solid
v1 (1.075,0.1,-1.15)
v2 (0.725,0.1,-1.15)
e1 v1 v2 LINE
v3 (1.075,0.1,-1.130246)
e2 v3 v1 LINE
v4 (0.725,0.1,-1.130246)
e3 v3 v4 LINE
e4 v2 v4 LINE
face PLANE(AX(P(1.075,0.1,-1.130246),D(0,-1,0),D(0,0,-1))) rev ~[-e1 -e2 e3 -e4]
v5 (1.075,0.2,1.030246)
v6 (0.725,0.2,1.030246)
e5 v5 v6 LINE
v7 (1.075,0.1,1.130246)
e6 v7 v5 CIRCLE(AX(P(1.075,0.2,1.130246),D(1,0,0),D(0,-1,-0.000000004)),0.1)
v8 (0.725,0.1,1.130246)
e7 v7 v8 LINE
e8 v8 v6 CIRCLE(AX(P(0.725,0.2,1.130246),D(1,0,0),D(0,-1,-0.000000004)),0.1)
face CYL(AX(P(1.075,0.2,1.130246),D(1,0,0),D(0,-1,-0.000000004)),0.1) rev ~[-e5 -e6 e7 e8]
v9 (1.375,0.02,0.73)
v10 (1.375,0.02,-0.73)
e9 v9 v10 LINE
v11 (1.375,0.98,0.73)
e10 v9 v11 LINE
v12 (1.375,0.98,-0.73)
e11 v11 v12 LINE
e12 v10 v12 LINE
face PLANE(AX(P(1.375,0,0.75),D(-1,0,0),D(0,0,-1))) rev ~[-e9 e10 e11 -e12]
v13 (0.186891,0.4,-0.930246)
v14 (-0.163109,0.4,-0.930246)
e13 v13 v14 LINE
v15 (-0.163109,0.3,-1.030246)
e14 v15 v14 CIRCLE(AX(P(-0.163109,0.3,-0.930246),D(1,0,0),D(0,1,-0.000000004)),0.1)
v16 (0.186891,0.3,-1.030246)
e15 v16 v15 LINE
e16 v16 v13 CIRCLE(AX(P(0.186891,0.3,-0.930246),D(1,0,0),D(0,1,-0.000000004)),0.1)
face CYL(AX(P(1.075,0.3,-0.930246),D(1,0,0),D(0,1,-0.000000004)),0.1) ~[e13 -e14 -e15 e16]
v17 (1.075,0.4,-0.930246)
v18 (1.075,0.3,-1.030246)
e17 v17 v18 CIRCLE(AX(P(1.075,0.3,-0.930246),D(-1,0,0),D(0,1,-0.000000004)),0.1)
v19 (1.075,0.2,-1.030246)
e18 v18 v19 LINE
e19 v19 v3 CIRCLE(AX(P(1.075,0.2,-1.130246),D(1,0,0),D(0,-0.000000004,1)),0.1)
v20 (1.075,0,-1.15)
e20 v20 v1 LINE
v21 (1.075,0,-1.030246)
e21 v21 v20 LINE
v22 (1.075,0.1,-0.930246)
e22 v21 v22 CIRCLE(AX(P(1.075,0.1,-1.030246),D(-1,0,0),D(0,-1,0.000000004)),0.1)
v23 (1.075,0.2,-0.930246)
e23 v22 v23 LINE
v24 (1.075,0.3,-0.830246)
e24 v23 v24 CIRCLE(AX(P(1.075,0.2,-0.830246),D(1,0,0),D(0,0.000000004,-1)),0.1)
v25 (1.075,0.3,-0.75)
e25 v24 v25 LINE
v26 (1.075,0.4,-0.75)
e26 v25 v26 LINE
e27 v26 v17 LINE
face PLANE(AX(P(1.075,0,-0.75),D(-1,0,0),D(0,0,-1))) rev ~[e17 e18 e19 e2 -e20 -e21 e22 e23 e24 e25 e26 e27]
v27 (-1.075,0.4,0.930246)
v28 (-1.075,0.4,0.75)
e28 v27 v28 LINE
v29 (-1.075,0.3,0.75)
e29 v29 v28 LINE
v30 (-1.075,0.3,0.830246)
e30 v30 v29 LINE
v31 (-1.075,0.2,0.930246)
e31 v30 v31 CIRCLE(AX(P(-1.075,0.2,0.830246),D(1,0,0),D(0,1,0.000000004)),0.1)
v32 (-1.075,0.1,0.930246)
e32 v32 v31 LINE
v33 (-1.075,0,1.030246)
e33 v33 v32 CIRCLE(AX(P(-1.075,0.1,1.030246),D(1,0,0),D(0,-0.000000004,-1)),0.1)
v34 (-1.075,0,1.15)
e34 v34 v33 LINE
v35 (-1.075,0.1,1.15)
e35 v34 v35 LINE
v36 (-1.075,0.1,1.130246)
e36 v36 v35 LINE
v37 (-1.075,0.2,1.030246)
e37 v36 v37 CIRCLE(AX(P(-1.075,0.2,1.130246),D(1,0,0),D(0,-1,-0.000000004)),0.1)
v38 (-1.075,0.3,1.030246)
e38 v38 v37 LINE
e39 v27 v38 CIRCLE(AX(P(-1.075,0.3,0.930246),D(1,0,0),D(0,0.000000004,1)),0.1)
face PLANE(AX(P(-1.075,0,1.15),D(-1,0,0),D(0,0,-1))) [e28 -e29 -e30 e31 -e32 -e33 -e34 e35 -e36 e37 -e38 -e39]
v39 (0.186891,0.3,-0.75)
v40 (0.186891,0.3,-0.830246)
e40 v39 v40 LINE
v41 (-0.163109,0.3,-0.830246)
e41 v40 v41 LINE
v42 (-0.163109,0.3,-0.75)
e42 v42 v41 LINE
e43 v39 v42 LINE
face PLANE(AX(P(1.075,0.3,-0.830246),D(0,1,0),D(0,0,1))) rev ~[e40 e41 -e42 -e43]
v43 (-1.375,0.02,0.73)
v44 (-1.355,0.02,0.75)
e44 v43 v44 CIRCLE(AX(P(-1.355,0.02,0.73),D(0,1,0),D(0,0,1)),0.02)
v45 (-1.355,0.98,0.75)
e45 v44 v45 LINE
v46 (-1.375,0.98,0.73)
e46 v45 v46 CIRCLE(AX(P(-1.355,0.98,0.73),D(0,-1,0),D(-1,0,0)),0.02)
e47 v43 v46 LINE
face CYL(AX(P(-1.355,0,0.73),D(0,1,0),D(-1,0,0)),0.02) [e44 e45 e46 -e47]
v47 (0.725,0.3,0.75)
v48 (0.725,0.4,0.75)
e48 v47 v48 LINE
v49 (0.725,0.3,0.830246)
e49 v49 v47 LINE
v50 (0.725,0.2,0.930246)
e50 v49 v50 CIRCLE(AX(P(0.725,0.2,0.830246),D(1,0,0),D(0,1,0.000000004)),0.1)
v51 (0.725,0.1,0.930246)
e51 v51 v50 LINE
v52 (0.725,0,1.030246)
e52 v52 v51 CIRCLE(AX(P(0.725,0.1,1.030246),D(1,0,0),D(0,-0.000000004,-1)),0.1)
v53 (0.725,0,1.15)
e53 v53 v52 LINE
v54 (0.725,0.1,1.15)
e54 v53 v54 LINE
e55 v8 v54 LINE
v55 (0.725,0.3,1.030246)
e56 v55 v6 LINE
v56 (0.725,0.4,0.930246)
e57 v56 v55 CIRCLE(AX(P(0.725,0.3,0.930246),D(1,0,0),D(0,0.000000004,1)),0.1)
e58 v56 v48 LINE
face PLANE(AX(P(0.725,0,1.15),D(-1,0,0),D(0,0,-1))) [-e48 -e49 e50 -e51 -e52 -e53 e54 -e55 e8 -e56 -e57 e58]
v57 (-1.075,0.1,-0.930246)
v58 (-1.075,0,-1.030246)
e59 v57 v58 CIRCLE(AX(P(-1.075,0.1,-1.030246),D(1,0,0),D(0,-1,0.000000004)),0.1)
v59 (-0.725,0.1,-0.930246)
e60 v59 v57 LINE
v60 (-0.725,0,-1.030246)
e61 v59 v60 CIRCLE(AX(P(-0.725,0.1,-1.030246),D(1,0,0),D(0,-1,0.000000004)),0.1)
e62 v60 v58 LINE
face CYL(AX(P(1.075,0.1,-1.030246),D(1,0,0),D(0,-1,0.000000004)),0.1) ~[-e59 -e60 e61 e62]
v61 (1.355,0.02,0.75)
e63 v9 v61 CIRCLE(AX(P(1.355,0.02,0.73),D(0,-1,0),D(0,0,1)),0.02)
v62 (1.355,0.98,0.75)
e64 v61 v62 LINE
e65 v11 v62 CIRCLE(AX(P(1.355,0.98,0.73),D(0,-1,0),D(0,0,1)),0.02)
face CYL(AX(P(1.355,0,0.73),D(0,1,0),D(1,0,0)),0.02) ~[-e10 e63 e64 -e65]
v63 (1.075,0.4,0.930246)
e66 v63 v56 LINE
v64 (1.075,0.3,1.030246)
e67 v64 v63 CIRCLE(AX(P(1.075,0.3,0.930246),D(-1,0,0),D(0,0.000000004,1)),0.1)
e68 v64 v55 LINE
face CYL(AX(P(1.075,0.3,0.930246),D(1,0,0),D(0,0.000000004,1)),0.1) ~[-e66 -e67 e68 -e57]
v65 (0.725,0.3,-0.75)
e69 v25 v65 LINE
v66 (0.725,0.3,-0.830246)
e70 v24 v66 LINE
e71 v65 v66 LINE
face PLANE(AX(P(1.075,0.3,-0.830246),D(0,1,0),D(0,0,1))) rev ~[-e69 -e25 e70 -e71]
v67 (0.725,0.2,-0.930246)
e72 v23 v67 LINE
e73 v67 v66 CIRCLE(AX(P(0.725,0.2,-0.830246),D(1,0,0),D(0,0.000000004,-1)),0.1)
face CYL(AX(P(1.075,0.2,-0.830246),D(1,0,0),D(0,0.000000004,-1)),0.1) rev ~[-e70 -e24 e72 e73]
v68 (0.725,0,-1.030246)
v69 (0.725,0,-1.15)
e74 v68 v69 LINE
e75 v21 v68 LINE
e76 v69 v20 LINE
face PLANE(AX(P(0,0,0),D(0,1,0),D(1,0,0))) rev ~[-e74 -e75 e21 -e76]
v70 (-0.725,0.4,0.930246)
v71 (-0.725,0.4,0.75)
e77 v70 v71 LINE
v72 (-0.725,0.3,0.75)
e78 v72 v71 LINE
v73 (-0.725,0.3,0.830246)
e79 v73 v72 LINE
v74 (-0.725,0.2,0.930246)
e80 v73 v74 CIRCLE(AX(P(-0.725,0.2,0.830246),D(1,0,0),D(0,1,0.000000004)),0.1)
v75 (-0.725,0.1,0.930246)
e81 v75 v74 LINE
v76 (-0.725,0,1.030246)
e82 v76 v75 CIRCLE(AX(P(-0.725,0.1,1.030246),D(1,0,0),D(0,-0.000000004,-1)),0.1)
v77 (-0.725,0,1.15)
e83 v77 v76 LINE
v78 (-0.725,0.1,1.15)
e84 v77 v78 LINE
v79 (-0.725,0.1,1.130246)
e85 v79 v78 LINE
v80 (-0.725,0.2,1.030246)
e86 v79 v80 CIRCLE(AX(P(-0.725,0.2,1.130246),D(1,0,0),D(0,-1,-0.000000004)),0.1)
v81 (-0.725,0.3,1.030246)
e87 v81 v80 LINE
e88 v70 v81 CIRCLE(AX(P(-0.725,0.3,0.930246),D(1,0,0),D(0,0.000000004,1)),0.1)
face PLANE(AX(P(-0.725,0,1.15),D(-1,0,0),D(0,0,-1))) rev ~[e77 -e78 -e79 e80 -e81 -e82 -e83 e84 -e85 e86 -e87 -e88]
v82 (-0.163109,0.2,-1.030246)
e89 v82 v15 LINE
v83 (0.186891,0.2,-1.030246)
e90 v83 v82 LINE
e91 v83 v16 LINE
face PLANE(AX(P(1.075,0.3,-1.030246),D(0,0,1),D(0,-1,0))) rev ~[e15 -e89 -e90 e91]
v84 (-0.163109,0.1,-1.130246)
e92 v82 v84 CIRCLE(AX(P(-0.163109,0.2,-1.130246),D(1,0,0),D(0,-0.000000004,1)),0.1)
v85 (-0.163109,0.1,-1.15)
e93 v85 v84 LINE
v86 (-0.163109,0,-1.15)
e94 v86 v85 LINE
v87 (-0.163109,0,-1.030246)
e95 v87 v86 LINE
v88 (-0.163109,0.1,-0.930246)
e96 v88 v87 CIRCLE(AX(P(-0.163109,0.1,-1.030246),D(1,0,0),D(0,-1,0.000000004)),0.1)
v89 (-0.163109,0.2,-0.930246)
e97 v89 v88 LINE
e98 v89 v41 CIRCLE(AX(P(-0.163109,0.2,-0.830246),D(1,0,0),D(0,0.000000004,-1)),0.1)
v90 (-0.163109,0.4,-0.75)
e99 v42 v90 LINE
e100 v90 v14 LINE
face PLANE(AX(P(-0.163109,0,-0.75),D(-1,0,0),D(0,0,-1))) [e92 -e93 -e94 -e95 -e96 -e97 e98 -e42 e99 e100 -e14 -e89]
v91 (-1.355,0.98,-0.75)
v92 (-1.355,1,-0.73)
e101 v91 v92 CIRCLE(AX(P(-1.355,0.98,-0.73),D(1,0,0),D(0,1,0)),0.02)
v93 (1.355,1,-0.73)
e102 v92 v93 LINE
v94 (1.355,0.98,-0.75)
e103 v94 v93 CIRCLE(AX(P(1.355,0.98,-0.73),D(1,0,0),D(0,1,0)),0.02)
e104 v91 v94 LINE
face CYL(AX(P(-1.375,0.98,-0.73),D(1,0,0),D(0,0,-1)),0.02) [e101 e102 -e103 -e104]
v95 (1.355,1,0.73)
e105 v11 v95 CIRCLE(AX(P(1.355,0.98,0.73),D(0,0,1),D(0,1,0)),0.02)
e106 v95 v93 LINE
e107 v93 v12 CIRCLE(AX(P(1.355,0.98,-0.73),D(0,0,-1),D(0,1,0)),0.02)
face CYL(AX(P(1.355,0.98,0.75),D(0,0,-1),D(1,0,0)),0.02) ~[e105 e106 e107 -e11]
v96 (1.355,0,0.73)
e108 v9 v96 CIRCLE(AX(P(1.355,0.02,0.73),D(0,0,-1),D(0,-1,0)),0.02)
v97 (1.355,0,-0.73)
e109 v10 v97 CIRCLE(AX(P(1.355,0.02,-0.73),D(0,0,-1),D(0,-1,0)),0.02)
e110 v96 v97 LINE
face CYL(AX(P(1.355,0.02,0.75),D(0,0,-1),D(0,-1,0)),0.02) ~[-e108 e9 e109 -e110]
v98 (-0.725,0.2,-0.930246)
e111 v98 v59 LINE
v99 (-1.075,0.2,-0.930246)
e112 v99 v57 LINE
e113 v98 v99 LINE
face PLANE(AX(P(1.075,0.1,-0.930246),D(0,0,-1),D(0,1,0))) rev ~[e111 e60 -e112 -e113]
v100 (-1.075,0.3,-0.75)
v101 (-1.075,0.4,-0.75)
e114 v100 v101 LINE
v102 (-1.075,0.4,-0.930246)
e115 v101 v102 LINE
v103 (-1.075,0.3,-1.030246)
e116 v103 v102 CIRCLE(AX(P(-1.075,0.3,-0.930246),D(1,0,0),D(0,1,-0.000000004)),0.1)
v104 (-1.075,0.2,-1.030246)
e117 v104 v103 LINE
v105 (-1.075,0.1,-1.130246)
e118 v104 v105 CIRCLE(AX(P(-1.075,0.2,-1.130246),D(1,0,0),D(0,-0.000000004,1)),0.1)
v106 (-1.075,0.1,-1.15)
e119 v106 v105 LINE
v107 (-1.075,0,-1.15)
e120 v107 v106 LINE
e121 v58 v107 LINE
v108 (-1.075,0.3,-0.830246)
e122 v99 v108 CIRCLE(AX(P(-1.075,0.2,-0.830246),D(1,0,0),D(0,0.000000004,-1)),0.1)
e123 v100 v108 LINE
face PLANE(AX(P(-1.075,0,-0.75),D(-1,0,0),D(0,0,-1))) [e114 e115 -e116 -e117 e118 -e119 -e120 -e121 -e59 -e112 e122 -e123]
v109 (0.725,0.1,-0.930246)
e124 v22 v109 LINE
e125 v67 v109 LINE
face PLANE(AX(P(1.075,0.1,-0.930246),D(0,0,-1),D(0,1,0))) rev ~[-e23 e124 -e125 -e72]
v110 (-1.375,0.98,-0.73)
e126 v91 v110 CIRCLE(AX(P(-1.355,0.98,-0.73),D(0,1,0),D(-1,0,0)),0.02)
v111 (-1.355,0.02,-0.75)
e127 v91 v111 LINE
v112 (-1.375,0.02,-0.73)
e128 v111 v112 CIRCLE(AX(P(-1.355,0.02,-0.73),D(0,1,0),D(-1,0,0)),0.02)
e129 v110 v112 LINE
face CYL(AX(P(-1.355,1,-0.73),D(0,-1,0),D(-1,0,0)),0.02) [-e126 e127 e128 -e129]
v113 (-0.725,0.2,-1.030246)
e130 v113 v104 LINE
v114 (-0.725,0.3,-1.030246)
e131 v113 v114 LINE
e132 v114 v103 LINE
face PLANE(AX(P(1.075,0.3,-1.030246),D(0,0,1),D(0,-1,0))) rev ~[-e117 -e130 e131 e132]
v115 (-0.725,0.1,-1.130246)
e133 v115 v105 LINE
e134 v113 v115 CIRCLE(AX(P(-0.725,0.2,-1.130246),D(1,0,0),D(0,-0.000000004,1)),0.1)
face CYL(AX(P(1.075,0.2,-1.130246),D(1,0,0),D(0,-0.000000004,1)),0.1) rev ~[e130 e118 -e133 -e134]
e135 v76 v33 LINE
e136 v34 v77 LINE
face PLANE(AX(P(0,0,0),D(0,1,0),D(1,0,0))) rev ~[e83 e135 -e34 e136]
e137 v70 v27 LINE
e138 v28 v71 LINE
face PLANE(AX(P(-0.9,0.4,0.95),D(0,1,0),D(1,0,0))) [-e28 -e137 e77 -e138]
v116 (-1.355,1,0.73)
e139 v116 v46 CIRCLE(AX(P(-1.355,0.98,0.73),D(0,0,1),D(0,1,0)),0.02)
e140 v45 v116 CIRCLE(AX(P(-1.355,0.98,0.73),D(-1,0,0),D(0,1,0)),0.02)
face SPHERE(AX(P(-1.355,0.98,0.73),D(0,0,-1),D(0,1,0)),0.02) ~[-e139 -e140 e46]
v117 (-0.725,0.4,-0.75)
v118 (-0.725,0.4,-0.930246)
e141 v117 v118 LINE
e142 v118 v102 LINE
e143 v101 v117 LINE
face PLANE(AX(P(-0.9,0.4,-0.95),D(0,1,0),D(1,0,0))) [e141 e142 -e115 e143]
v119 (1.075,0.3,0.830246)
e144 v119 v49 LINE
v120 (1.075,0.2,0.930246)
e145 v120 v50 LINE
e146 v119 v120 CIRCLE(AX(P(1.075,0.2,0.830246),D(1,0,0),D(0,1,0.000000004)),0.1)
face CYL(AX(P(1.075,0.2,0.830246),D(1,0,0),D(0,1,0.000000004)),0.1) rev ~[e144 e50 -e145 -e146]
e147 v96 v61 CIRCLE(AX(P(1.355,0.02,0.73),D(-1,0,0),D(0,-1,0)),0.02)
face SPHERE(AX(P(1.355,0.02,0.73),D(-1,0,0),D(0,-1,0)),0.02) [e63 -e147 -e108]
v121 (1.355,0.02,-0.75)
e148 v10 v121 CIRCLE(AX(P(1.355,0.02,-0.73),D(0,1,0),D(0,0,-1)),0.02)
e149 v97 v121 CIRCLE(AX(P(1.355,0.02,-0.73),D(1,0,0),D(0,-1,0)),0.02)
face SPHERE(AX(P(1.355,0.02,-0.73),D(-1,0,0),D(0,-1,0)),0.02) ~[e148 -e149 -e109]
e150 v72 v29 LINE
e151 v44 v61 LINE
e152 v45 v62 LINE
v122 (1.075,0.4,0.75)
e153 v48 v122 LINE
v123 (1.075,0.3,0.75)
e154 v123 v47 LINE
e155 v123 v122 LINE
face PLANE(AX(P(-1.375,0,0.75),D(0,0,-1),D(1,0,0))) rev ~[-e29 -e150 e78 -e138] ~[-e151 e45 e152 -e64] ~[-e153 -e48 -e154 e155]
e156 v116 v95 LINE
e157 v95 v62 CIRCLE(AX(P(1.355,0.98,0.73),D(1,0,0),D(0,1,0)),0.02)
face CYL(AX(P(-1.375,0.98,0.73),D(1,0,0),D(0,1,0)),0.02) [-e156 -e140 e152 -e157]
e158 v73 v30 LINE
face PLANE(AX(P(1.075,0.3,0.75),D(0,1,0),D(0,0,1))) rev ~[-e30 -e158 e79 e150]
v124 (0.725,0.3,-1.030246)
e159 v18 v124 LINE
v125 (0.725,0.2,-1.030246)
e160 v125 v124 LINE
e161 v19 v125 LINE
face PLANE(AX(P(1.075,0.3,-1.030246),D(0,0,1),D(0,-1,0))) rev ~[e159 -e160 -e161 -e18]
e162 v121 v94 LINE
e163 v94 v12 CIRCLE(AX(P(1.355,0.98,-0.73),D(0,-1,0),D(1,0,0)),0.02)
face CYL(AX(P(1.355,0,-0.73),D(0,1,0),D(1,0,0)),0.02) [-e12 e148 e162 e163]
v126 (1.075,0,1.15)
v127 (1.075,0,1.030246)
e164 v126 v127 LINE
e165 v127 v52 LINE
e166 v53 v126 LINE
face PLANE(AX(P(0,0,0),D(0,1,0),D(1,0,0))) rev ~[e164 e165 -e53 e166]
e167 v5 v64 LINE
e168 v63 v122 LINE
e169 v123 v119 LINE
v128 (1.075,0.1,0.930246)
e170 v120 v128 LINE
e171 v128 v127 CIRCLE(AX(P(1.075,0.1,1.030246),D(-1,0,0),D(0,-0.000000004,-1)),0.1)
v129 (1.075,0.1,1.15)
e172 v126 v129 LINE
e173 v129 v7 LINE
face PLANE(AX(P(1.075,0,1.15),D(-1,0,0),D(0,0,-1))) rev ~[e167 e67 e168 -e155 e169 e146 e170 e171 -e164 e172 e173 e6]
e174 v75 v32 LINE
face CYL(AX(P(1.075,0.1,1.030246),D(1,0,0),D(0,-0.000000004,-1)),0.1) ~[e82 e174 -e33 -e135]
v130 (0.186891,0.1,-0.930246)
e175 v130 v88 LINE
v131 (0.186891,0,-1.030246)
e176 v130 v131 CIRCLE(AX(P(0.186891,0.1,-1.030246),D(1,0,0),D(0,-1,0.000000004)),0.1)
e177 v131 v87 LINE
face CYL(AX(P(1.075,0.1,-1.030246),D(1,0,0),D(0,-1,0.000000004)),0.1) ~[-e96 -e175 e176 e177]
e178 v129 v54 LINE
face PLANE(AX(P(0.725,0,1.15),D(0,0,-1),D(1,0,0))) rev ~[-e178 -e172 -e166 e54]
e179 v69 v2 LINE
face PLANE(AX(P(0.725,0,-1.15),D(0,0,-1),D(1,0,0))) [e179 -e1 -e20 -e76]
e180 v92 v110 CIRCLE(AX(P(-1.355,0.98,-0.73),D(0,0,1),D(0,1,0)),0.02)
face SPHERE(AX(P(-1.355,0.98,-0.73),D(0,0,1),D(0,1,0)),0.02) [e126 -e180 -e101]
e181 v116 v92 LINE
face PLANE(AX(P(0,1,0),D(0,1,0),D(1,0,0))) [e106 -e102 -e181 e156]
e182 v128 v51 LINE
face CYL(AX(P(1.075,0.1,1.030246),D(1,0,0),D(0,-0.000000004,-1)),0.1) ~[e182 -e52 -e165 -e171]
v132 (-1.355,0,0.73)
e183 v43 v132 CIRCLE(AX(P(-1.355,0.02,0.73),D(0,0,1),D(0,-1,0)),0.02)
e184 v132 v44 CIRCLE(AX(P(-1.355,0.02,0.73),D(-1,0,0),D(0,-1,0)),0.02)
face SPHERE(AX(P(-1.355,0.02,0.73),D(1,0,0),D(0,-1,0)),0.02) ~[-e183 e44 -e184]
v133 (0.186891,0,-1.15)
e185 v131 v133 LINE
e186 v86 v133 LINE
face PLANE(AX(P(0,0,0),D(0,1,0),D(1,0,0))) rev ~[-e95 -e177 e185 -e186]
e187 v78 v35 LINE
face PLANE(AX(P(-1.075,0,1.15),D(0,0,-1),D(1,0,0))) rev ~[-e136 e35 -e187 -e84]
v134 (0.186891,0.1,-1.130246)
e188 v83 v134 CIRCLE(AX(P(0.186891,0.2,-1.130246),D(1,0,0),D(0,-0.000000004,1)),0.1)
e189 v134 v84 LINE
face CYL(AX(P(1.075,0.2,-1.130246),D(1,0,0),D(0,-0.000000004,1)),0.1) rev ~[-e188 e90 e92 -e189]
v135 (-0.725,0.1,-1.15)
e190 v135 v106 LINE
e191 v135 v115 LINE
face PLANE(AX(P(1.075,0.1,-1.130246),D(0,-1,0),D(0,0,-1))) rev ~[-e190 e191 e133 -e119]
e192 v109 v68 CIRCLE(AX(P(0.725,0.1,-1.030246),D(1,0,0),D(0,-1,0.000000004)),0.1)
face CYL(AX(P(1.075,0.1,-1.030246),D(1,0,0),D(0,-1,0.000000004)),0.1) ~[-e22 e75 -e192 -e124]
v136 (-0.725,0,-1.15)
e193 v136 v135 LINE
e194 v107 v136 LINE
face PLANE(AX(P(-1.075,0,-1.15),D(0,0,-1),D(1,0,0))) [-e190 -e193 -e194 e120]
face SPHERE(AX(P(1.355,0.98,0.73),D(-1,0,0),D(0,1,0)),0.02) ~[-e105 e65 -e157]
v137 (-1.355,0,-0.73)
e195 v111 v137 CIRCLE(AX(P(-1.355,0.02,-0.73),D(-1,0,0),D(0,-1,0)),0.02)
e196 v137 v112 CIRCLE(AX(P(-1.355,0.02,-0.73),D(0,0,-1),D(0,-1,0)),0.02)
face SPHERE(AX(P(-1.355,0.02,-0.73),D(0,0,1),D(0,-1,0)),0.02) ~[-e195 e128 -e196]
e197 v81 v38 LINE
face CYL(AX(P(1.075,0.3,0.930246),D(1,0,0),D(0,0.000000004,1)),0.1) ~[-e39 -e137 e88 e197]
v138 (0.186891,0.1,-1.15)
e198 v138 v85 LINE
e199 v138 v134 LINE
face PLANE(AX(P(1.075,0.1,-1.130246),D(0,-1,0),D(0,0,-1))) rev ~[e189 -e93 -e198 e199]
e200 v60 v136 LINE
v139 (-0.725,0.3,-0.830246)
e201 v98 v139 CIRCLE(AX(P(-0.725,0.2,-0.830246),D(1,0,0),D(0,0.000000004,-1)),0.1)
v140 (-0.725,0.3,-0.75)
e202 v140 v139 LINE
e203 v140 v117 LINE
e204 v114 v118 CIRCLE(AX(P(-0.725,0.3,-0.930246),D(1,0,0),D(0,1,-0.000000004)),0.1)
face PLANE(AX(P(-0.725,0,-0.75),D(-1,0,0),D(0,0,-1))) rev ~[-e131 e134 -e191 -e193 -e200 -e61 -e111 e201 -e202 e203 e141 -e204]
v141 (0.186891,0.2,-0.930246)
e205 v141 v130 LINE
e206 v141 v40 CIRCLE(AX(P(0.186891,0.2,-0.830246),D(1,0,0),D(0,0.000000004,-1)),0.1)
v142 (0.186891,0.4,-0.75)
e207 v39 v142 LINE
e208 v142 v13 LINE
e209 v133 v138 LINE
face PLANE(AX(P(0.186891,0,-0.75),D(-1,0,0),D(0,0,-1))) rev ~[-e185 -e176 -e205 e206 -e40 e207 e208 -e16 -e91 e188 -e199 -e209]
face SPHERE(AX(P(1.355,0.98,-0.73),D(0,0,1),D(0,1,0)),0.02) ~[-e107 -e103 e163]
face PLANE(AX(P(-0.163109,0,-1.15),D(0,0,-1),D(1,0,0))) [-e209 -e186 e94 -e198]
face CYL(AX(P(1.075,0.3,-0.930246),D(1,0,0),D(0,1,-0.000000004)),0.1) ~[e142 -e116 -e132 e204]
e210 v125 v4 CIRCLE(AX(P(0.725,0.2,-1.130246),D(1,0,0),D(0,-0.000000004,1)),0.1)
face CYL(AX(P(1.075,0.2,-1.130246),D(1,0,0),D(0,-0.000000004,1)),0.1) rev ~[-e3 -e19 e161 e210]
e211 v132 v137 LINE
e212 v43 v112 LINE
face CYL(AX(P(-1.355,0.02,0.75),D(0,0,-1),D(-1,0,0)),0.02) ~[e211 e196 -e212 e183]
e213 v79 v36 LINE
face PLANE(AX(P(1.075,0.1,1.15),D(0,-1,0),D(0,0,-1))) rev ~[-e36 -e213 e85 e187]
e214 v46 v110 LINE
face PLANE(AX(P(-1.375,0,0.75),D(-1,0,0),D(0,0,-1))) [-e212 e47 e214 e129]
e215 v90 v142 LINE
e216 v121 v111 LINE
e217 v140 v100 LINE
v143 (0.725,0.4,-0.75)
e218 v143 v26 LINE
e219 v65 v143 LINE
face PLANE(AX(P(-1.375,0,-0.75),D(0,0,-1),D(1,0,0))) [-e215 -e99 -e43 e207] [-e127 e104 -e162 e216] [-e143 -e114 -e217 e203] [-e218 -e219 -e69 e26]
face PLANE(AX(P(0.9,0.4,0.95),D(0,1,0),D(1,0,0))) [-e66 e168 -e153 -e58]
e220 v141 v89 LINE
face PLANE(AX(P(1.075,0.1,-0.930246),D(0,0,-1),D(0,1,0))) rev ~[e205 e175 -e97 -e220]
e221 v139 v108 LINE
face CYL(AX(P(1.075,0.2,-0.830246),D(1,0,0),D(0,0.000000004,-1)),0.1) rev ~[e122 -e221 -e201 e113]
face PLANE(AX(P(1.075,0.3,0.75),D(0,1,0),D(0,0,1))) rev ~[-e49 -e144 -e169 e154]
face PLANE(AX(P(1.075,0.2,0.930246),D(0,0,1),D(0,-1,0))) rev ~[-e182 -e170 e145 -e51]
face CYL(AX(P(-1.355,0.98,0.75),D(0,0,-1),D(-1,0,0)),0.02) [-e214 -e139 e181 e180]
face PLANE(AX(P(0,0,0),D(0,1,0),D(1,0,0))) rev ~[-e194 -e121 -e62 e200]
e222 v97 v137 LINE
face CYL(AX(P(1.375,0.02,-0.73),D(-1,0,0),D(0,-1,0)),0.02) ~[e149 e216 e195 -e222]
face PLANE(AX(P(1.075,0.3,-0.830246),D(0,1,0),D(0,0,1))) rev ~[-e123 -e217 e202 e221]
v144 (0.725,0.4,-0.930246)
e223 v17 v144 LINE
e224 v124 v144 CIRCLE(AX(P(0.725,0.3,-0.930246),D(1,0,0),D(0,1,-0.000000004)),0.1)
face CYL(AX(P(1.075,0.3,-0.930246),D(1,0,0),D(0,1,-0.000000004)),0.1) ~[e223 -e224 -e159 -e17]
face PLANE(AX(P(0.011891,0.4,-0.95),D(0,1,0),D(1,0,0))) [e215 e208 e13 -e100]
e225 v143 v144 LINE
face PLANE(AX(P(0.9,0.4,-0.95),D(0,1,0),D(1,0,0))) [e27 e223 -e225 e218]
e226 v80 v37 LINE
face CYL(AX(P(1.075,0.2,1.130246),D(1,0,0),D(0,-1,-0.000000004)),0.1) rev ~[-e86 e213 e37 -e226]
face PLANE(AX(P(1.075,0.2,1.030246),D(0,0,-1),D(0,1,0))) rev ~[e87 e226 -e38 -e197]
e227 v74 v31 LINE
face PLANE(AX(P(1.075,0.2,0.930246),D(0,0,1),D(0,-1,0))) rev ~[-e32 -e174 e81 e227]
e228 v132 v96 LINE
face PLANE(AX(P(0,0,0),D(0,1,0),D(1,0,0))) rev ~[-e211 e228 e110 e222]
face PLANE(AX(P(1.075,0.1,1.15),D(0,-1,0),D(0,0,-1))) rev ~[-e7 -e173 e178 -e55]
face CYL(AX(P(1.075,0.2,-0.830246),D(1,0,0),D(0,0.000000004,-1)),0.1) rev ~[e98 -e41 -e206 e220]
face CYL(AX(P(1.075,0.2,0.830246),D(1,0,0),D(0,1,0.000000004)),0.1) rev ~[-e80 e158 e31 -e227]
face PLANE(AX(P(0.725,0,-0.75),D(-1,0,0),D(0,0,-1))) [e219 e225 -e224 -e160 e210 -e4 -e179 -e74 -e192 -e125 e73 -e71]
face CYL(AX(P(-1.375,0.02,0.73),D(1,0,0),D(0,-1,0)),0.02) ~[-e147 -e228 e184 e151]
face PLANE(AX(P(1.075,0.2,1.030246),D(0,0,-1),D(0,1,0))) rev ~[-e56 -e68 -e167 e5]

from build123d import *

# Parameters (mm, degrees)
SKETCH1_W           = 2.75
SKETCH1_H           = 1.5
BOSS_EXTRUDE1_DEPTH = 1
SKETCH2_W           = 0.35
SKETCH2_H           = 0.4
BOSS_EXTRUDE2_DEPTH = 0.4
CUT_EXTRUDE1_DEPTH  = 3.45
FILLET1_R           = 0.02


with BuildPart() as part:
    # Sketch1 → Boss-Extrude1 (new body)
    with BuildSketch(Plane(origin=(0, 0, 0), x_dir=(1, 0, 0), z_dir=(0, 1, 0))):
        Rectangle(SKETCH1_W, SKETCH1_H)
    extrude(amount=BOSS_EXTRUDE1_DEPTH)

    # Sketch2 → Boss-Extrude2 (add)
    with BuildSketch(Plane(origin=(0, 0, 0), x_dir=(1, 0, 0), z_dir=(0, 1, 0))):
        with Locations((-0.9, -0.95)):
            Rectangle(SKETCH2_W, SKETCH2_H)
        with Locations((0.9, -0.95)):
            Rectangle(SKETCH2_W, SKETCH2_H)
        with Locations((0.9, 0.95)):
            Rectangle(SKETCH2_W, SKETCH2_H)
        with Locations((-0.9, 0.95)):
            Rectangle(SKETCH2_W, SKETCH2_H)
        with Locations((0.01189142, 0.95)):
            Rectangle(SKETCH2_W, SKETCH2_H)
    extrude(amount=BOSS_EXTRUDE2_DEPTH)

    # Sketch3 → Cut-Extrude1 (cut, through all)
    with BuildSketch(Plane(origin=(1.075, 0, 0), x_dir=(0, 0, -1), z_dir=(1, 0, 0))):
        with BuildLine():
            Line((1.15, 0), (1.03024595, 0))
            Line((1.03024595, 0), (0.75, 0))
            Line((0.75, 0), (-0.75, 0))
            Line((-0.75, 0), (-0.75, 0.3))
            Line((-0.75, 0.3), (-0.83024595, 0.3))
            ThreePointArc((-0.83024595, 0.3), (-0.900956628, 0.270710678), (-0.93024595, 0.2))
            Line((-0.93024595, 0.2), (-0.93024595, 0.1))
            ThreePointArc((-0.93024595, 0.1), (-0.959535272, 0.029289322), (-1.03024595, 0))
            Line((-1.03024595, 0), (-1.15, 0))
            Line((-1.15, 0), (-1.15, 0.1))
            Line((-1.15, 0.1), (-1.13024595, 0.1))
            ThreePointArc((-1.13024595, 0.1), (-1.059535272, 0.129289322), (-1.03024595, 0.2))
            Line((-1.03024595, 0.2), (-1.03024595, 0.3))
            ThreePointArc((-1.03024595, 0.3), (-1.000956628, 0.370710678), (-0.93024595, 0.4))
            Line((-0.93024595, 0.4), (-0.75, 0.4))
            Line((-0.75, 0.4), (-0.75, 0.722069531))
            Line((-0.75, 0.722069531), (-1.439294861, 0.722069531))
            Line((-1.439294861, 0.722069531), (-1.439294861, -0.262815914))
            Line((-1.439294861, -0.262815914), (1.563550176, -0.262815914))
            Line((1.563550176, -0.262815914), (1.563550176, 0.722069531))
            Line((1.563550176, 0.722069531), (0.75, 0.722069531))
            Line((0.75, 0.722069531), (0.75, 0.4))
            Line((0.75, 0.4), (0.93024595, 0.4))
            Line((0.93024595, 0.4), (1.15, 0.4))
            Line((1.15, 0.4), (1.15, 0.1))
            Line((1.15, 0.1), (1.15, 0))
        make_face()
        with BuildLine():
            Line((0.75, 0), (1.03024595, 0))
            ThreePointArc((1.03024595, 0), (0.959535272, 0.029289322), (0.93024595, 0.1))
            Line((0.93024595, 0.1), (0.93024595, 0.2))
            ThreePointArc((0.93024595, 0.2), (0.900956628, 0.270710678), (0.83024595, 0.3))
            Line((0.83024595, 0.3), (0.75, 0.3))
            Line((0.75, 0.3), (0.75, 0))
        make_face()
        with BuildLine():
            Line((1.13024595, 0.1), (1.15, 0.1))
            Line((1.15, 0.1), (1.15, 0.4))
            Line((1.15, 0.4), (0.93024595, 0.4))
            ThreePointArc((0.93024595, 0.4), (1.000956628, 0.370710678), (1.03024595, 0.3))
            Line((1.03024595, 0.3), (1.03024595, 0.2))
            ThreePointArc((1.03024595, 0.2), (1.059535272, 0.129289322), (1.13024595, 0.1))
        make_face()
    extrude(amount=-CUT_EXTRUDE1_DEPTH, mode=Mode.SUBTRACT)

    # Fillet1
    fillet1_edges = [part.edges().sort_by_distance(p)[0] for p in [
        (-1.375, 1, 0),
        (0, 1, 0.75),
        (1.375, 1, 0),
        (0, 0, 0.75),
        (-1.375, 0, 0),
        (0, 0, -0.75),
        (1.375, 0, 0),
        (0, 1, -0.75),
        (1.375, 0.5, 0.75),
        (-1.375, 0.5, 0.75),
        (-1.375, 0.5, -0.75),
        (1.375, 0.5, -0.75),
    ]]
    fillet(fillet1_edges, radius=FILLET1_R)


solid = part.part
